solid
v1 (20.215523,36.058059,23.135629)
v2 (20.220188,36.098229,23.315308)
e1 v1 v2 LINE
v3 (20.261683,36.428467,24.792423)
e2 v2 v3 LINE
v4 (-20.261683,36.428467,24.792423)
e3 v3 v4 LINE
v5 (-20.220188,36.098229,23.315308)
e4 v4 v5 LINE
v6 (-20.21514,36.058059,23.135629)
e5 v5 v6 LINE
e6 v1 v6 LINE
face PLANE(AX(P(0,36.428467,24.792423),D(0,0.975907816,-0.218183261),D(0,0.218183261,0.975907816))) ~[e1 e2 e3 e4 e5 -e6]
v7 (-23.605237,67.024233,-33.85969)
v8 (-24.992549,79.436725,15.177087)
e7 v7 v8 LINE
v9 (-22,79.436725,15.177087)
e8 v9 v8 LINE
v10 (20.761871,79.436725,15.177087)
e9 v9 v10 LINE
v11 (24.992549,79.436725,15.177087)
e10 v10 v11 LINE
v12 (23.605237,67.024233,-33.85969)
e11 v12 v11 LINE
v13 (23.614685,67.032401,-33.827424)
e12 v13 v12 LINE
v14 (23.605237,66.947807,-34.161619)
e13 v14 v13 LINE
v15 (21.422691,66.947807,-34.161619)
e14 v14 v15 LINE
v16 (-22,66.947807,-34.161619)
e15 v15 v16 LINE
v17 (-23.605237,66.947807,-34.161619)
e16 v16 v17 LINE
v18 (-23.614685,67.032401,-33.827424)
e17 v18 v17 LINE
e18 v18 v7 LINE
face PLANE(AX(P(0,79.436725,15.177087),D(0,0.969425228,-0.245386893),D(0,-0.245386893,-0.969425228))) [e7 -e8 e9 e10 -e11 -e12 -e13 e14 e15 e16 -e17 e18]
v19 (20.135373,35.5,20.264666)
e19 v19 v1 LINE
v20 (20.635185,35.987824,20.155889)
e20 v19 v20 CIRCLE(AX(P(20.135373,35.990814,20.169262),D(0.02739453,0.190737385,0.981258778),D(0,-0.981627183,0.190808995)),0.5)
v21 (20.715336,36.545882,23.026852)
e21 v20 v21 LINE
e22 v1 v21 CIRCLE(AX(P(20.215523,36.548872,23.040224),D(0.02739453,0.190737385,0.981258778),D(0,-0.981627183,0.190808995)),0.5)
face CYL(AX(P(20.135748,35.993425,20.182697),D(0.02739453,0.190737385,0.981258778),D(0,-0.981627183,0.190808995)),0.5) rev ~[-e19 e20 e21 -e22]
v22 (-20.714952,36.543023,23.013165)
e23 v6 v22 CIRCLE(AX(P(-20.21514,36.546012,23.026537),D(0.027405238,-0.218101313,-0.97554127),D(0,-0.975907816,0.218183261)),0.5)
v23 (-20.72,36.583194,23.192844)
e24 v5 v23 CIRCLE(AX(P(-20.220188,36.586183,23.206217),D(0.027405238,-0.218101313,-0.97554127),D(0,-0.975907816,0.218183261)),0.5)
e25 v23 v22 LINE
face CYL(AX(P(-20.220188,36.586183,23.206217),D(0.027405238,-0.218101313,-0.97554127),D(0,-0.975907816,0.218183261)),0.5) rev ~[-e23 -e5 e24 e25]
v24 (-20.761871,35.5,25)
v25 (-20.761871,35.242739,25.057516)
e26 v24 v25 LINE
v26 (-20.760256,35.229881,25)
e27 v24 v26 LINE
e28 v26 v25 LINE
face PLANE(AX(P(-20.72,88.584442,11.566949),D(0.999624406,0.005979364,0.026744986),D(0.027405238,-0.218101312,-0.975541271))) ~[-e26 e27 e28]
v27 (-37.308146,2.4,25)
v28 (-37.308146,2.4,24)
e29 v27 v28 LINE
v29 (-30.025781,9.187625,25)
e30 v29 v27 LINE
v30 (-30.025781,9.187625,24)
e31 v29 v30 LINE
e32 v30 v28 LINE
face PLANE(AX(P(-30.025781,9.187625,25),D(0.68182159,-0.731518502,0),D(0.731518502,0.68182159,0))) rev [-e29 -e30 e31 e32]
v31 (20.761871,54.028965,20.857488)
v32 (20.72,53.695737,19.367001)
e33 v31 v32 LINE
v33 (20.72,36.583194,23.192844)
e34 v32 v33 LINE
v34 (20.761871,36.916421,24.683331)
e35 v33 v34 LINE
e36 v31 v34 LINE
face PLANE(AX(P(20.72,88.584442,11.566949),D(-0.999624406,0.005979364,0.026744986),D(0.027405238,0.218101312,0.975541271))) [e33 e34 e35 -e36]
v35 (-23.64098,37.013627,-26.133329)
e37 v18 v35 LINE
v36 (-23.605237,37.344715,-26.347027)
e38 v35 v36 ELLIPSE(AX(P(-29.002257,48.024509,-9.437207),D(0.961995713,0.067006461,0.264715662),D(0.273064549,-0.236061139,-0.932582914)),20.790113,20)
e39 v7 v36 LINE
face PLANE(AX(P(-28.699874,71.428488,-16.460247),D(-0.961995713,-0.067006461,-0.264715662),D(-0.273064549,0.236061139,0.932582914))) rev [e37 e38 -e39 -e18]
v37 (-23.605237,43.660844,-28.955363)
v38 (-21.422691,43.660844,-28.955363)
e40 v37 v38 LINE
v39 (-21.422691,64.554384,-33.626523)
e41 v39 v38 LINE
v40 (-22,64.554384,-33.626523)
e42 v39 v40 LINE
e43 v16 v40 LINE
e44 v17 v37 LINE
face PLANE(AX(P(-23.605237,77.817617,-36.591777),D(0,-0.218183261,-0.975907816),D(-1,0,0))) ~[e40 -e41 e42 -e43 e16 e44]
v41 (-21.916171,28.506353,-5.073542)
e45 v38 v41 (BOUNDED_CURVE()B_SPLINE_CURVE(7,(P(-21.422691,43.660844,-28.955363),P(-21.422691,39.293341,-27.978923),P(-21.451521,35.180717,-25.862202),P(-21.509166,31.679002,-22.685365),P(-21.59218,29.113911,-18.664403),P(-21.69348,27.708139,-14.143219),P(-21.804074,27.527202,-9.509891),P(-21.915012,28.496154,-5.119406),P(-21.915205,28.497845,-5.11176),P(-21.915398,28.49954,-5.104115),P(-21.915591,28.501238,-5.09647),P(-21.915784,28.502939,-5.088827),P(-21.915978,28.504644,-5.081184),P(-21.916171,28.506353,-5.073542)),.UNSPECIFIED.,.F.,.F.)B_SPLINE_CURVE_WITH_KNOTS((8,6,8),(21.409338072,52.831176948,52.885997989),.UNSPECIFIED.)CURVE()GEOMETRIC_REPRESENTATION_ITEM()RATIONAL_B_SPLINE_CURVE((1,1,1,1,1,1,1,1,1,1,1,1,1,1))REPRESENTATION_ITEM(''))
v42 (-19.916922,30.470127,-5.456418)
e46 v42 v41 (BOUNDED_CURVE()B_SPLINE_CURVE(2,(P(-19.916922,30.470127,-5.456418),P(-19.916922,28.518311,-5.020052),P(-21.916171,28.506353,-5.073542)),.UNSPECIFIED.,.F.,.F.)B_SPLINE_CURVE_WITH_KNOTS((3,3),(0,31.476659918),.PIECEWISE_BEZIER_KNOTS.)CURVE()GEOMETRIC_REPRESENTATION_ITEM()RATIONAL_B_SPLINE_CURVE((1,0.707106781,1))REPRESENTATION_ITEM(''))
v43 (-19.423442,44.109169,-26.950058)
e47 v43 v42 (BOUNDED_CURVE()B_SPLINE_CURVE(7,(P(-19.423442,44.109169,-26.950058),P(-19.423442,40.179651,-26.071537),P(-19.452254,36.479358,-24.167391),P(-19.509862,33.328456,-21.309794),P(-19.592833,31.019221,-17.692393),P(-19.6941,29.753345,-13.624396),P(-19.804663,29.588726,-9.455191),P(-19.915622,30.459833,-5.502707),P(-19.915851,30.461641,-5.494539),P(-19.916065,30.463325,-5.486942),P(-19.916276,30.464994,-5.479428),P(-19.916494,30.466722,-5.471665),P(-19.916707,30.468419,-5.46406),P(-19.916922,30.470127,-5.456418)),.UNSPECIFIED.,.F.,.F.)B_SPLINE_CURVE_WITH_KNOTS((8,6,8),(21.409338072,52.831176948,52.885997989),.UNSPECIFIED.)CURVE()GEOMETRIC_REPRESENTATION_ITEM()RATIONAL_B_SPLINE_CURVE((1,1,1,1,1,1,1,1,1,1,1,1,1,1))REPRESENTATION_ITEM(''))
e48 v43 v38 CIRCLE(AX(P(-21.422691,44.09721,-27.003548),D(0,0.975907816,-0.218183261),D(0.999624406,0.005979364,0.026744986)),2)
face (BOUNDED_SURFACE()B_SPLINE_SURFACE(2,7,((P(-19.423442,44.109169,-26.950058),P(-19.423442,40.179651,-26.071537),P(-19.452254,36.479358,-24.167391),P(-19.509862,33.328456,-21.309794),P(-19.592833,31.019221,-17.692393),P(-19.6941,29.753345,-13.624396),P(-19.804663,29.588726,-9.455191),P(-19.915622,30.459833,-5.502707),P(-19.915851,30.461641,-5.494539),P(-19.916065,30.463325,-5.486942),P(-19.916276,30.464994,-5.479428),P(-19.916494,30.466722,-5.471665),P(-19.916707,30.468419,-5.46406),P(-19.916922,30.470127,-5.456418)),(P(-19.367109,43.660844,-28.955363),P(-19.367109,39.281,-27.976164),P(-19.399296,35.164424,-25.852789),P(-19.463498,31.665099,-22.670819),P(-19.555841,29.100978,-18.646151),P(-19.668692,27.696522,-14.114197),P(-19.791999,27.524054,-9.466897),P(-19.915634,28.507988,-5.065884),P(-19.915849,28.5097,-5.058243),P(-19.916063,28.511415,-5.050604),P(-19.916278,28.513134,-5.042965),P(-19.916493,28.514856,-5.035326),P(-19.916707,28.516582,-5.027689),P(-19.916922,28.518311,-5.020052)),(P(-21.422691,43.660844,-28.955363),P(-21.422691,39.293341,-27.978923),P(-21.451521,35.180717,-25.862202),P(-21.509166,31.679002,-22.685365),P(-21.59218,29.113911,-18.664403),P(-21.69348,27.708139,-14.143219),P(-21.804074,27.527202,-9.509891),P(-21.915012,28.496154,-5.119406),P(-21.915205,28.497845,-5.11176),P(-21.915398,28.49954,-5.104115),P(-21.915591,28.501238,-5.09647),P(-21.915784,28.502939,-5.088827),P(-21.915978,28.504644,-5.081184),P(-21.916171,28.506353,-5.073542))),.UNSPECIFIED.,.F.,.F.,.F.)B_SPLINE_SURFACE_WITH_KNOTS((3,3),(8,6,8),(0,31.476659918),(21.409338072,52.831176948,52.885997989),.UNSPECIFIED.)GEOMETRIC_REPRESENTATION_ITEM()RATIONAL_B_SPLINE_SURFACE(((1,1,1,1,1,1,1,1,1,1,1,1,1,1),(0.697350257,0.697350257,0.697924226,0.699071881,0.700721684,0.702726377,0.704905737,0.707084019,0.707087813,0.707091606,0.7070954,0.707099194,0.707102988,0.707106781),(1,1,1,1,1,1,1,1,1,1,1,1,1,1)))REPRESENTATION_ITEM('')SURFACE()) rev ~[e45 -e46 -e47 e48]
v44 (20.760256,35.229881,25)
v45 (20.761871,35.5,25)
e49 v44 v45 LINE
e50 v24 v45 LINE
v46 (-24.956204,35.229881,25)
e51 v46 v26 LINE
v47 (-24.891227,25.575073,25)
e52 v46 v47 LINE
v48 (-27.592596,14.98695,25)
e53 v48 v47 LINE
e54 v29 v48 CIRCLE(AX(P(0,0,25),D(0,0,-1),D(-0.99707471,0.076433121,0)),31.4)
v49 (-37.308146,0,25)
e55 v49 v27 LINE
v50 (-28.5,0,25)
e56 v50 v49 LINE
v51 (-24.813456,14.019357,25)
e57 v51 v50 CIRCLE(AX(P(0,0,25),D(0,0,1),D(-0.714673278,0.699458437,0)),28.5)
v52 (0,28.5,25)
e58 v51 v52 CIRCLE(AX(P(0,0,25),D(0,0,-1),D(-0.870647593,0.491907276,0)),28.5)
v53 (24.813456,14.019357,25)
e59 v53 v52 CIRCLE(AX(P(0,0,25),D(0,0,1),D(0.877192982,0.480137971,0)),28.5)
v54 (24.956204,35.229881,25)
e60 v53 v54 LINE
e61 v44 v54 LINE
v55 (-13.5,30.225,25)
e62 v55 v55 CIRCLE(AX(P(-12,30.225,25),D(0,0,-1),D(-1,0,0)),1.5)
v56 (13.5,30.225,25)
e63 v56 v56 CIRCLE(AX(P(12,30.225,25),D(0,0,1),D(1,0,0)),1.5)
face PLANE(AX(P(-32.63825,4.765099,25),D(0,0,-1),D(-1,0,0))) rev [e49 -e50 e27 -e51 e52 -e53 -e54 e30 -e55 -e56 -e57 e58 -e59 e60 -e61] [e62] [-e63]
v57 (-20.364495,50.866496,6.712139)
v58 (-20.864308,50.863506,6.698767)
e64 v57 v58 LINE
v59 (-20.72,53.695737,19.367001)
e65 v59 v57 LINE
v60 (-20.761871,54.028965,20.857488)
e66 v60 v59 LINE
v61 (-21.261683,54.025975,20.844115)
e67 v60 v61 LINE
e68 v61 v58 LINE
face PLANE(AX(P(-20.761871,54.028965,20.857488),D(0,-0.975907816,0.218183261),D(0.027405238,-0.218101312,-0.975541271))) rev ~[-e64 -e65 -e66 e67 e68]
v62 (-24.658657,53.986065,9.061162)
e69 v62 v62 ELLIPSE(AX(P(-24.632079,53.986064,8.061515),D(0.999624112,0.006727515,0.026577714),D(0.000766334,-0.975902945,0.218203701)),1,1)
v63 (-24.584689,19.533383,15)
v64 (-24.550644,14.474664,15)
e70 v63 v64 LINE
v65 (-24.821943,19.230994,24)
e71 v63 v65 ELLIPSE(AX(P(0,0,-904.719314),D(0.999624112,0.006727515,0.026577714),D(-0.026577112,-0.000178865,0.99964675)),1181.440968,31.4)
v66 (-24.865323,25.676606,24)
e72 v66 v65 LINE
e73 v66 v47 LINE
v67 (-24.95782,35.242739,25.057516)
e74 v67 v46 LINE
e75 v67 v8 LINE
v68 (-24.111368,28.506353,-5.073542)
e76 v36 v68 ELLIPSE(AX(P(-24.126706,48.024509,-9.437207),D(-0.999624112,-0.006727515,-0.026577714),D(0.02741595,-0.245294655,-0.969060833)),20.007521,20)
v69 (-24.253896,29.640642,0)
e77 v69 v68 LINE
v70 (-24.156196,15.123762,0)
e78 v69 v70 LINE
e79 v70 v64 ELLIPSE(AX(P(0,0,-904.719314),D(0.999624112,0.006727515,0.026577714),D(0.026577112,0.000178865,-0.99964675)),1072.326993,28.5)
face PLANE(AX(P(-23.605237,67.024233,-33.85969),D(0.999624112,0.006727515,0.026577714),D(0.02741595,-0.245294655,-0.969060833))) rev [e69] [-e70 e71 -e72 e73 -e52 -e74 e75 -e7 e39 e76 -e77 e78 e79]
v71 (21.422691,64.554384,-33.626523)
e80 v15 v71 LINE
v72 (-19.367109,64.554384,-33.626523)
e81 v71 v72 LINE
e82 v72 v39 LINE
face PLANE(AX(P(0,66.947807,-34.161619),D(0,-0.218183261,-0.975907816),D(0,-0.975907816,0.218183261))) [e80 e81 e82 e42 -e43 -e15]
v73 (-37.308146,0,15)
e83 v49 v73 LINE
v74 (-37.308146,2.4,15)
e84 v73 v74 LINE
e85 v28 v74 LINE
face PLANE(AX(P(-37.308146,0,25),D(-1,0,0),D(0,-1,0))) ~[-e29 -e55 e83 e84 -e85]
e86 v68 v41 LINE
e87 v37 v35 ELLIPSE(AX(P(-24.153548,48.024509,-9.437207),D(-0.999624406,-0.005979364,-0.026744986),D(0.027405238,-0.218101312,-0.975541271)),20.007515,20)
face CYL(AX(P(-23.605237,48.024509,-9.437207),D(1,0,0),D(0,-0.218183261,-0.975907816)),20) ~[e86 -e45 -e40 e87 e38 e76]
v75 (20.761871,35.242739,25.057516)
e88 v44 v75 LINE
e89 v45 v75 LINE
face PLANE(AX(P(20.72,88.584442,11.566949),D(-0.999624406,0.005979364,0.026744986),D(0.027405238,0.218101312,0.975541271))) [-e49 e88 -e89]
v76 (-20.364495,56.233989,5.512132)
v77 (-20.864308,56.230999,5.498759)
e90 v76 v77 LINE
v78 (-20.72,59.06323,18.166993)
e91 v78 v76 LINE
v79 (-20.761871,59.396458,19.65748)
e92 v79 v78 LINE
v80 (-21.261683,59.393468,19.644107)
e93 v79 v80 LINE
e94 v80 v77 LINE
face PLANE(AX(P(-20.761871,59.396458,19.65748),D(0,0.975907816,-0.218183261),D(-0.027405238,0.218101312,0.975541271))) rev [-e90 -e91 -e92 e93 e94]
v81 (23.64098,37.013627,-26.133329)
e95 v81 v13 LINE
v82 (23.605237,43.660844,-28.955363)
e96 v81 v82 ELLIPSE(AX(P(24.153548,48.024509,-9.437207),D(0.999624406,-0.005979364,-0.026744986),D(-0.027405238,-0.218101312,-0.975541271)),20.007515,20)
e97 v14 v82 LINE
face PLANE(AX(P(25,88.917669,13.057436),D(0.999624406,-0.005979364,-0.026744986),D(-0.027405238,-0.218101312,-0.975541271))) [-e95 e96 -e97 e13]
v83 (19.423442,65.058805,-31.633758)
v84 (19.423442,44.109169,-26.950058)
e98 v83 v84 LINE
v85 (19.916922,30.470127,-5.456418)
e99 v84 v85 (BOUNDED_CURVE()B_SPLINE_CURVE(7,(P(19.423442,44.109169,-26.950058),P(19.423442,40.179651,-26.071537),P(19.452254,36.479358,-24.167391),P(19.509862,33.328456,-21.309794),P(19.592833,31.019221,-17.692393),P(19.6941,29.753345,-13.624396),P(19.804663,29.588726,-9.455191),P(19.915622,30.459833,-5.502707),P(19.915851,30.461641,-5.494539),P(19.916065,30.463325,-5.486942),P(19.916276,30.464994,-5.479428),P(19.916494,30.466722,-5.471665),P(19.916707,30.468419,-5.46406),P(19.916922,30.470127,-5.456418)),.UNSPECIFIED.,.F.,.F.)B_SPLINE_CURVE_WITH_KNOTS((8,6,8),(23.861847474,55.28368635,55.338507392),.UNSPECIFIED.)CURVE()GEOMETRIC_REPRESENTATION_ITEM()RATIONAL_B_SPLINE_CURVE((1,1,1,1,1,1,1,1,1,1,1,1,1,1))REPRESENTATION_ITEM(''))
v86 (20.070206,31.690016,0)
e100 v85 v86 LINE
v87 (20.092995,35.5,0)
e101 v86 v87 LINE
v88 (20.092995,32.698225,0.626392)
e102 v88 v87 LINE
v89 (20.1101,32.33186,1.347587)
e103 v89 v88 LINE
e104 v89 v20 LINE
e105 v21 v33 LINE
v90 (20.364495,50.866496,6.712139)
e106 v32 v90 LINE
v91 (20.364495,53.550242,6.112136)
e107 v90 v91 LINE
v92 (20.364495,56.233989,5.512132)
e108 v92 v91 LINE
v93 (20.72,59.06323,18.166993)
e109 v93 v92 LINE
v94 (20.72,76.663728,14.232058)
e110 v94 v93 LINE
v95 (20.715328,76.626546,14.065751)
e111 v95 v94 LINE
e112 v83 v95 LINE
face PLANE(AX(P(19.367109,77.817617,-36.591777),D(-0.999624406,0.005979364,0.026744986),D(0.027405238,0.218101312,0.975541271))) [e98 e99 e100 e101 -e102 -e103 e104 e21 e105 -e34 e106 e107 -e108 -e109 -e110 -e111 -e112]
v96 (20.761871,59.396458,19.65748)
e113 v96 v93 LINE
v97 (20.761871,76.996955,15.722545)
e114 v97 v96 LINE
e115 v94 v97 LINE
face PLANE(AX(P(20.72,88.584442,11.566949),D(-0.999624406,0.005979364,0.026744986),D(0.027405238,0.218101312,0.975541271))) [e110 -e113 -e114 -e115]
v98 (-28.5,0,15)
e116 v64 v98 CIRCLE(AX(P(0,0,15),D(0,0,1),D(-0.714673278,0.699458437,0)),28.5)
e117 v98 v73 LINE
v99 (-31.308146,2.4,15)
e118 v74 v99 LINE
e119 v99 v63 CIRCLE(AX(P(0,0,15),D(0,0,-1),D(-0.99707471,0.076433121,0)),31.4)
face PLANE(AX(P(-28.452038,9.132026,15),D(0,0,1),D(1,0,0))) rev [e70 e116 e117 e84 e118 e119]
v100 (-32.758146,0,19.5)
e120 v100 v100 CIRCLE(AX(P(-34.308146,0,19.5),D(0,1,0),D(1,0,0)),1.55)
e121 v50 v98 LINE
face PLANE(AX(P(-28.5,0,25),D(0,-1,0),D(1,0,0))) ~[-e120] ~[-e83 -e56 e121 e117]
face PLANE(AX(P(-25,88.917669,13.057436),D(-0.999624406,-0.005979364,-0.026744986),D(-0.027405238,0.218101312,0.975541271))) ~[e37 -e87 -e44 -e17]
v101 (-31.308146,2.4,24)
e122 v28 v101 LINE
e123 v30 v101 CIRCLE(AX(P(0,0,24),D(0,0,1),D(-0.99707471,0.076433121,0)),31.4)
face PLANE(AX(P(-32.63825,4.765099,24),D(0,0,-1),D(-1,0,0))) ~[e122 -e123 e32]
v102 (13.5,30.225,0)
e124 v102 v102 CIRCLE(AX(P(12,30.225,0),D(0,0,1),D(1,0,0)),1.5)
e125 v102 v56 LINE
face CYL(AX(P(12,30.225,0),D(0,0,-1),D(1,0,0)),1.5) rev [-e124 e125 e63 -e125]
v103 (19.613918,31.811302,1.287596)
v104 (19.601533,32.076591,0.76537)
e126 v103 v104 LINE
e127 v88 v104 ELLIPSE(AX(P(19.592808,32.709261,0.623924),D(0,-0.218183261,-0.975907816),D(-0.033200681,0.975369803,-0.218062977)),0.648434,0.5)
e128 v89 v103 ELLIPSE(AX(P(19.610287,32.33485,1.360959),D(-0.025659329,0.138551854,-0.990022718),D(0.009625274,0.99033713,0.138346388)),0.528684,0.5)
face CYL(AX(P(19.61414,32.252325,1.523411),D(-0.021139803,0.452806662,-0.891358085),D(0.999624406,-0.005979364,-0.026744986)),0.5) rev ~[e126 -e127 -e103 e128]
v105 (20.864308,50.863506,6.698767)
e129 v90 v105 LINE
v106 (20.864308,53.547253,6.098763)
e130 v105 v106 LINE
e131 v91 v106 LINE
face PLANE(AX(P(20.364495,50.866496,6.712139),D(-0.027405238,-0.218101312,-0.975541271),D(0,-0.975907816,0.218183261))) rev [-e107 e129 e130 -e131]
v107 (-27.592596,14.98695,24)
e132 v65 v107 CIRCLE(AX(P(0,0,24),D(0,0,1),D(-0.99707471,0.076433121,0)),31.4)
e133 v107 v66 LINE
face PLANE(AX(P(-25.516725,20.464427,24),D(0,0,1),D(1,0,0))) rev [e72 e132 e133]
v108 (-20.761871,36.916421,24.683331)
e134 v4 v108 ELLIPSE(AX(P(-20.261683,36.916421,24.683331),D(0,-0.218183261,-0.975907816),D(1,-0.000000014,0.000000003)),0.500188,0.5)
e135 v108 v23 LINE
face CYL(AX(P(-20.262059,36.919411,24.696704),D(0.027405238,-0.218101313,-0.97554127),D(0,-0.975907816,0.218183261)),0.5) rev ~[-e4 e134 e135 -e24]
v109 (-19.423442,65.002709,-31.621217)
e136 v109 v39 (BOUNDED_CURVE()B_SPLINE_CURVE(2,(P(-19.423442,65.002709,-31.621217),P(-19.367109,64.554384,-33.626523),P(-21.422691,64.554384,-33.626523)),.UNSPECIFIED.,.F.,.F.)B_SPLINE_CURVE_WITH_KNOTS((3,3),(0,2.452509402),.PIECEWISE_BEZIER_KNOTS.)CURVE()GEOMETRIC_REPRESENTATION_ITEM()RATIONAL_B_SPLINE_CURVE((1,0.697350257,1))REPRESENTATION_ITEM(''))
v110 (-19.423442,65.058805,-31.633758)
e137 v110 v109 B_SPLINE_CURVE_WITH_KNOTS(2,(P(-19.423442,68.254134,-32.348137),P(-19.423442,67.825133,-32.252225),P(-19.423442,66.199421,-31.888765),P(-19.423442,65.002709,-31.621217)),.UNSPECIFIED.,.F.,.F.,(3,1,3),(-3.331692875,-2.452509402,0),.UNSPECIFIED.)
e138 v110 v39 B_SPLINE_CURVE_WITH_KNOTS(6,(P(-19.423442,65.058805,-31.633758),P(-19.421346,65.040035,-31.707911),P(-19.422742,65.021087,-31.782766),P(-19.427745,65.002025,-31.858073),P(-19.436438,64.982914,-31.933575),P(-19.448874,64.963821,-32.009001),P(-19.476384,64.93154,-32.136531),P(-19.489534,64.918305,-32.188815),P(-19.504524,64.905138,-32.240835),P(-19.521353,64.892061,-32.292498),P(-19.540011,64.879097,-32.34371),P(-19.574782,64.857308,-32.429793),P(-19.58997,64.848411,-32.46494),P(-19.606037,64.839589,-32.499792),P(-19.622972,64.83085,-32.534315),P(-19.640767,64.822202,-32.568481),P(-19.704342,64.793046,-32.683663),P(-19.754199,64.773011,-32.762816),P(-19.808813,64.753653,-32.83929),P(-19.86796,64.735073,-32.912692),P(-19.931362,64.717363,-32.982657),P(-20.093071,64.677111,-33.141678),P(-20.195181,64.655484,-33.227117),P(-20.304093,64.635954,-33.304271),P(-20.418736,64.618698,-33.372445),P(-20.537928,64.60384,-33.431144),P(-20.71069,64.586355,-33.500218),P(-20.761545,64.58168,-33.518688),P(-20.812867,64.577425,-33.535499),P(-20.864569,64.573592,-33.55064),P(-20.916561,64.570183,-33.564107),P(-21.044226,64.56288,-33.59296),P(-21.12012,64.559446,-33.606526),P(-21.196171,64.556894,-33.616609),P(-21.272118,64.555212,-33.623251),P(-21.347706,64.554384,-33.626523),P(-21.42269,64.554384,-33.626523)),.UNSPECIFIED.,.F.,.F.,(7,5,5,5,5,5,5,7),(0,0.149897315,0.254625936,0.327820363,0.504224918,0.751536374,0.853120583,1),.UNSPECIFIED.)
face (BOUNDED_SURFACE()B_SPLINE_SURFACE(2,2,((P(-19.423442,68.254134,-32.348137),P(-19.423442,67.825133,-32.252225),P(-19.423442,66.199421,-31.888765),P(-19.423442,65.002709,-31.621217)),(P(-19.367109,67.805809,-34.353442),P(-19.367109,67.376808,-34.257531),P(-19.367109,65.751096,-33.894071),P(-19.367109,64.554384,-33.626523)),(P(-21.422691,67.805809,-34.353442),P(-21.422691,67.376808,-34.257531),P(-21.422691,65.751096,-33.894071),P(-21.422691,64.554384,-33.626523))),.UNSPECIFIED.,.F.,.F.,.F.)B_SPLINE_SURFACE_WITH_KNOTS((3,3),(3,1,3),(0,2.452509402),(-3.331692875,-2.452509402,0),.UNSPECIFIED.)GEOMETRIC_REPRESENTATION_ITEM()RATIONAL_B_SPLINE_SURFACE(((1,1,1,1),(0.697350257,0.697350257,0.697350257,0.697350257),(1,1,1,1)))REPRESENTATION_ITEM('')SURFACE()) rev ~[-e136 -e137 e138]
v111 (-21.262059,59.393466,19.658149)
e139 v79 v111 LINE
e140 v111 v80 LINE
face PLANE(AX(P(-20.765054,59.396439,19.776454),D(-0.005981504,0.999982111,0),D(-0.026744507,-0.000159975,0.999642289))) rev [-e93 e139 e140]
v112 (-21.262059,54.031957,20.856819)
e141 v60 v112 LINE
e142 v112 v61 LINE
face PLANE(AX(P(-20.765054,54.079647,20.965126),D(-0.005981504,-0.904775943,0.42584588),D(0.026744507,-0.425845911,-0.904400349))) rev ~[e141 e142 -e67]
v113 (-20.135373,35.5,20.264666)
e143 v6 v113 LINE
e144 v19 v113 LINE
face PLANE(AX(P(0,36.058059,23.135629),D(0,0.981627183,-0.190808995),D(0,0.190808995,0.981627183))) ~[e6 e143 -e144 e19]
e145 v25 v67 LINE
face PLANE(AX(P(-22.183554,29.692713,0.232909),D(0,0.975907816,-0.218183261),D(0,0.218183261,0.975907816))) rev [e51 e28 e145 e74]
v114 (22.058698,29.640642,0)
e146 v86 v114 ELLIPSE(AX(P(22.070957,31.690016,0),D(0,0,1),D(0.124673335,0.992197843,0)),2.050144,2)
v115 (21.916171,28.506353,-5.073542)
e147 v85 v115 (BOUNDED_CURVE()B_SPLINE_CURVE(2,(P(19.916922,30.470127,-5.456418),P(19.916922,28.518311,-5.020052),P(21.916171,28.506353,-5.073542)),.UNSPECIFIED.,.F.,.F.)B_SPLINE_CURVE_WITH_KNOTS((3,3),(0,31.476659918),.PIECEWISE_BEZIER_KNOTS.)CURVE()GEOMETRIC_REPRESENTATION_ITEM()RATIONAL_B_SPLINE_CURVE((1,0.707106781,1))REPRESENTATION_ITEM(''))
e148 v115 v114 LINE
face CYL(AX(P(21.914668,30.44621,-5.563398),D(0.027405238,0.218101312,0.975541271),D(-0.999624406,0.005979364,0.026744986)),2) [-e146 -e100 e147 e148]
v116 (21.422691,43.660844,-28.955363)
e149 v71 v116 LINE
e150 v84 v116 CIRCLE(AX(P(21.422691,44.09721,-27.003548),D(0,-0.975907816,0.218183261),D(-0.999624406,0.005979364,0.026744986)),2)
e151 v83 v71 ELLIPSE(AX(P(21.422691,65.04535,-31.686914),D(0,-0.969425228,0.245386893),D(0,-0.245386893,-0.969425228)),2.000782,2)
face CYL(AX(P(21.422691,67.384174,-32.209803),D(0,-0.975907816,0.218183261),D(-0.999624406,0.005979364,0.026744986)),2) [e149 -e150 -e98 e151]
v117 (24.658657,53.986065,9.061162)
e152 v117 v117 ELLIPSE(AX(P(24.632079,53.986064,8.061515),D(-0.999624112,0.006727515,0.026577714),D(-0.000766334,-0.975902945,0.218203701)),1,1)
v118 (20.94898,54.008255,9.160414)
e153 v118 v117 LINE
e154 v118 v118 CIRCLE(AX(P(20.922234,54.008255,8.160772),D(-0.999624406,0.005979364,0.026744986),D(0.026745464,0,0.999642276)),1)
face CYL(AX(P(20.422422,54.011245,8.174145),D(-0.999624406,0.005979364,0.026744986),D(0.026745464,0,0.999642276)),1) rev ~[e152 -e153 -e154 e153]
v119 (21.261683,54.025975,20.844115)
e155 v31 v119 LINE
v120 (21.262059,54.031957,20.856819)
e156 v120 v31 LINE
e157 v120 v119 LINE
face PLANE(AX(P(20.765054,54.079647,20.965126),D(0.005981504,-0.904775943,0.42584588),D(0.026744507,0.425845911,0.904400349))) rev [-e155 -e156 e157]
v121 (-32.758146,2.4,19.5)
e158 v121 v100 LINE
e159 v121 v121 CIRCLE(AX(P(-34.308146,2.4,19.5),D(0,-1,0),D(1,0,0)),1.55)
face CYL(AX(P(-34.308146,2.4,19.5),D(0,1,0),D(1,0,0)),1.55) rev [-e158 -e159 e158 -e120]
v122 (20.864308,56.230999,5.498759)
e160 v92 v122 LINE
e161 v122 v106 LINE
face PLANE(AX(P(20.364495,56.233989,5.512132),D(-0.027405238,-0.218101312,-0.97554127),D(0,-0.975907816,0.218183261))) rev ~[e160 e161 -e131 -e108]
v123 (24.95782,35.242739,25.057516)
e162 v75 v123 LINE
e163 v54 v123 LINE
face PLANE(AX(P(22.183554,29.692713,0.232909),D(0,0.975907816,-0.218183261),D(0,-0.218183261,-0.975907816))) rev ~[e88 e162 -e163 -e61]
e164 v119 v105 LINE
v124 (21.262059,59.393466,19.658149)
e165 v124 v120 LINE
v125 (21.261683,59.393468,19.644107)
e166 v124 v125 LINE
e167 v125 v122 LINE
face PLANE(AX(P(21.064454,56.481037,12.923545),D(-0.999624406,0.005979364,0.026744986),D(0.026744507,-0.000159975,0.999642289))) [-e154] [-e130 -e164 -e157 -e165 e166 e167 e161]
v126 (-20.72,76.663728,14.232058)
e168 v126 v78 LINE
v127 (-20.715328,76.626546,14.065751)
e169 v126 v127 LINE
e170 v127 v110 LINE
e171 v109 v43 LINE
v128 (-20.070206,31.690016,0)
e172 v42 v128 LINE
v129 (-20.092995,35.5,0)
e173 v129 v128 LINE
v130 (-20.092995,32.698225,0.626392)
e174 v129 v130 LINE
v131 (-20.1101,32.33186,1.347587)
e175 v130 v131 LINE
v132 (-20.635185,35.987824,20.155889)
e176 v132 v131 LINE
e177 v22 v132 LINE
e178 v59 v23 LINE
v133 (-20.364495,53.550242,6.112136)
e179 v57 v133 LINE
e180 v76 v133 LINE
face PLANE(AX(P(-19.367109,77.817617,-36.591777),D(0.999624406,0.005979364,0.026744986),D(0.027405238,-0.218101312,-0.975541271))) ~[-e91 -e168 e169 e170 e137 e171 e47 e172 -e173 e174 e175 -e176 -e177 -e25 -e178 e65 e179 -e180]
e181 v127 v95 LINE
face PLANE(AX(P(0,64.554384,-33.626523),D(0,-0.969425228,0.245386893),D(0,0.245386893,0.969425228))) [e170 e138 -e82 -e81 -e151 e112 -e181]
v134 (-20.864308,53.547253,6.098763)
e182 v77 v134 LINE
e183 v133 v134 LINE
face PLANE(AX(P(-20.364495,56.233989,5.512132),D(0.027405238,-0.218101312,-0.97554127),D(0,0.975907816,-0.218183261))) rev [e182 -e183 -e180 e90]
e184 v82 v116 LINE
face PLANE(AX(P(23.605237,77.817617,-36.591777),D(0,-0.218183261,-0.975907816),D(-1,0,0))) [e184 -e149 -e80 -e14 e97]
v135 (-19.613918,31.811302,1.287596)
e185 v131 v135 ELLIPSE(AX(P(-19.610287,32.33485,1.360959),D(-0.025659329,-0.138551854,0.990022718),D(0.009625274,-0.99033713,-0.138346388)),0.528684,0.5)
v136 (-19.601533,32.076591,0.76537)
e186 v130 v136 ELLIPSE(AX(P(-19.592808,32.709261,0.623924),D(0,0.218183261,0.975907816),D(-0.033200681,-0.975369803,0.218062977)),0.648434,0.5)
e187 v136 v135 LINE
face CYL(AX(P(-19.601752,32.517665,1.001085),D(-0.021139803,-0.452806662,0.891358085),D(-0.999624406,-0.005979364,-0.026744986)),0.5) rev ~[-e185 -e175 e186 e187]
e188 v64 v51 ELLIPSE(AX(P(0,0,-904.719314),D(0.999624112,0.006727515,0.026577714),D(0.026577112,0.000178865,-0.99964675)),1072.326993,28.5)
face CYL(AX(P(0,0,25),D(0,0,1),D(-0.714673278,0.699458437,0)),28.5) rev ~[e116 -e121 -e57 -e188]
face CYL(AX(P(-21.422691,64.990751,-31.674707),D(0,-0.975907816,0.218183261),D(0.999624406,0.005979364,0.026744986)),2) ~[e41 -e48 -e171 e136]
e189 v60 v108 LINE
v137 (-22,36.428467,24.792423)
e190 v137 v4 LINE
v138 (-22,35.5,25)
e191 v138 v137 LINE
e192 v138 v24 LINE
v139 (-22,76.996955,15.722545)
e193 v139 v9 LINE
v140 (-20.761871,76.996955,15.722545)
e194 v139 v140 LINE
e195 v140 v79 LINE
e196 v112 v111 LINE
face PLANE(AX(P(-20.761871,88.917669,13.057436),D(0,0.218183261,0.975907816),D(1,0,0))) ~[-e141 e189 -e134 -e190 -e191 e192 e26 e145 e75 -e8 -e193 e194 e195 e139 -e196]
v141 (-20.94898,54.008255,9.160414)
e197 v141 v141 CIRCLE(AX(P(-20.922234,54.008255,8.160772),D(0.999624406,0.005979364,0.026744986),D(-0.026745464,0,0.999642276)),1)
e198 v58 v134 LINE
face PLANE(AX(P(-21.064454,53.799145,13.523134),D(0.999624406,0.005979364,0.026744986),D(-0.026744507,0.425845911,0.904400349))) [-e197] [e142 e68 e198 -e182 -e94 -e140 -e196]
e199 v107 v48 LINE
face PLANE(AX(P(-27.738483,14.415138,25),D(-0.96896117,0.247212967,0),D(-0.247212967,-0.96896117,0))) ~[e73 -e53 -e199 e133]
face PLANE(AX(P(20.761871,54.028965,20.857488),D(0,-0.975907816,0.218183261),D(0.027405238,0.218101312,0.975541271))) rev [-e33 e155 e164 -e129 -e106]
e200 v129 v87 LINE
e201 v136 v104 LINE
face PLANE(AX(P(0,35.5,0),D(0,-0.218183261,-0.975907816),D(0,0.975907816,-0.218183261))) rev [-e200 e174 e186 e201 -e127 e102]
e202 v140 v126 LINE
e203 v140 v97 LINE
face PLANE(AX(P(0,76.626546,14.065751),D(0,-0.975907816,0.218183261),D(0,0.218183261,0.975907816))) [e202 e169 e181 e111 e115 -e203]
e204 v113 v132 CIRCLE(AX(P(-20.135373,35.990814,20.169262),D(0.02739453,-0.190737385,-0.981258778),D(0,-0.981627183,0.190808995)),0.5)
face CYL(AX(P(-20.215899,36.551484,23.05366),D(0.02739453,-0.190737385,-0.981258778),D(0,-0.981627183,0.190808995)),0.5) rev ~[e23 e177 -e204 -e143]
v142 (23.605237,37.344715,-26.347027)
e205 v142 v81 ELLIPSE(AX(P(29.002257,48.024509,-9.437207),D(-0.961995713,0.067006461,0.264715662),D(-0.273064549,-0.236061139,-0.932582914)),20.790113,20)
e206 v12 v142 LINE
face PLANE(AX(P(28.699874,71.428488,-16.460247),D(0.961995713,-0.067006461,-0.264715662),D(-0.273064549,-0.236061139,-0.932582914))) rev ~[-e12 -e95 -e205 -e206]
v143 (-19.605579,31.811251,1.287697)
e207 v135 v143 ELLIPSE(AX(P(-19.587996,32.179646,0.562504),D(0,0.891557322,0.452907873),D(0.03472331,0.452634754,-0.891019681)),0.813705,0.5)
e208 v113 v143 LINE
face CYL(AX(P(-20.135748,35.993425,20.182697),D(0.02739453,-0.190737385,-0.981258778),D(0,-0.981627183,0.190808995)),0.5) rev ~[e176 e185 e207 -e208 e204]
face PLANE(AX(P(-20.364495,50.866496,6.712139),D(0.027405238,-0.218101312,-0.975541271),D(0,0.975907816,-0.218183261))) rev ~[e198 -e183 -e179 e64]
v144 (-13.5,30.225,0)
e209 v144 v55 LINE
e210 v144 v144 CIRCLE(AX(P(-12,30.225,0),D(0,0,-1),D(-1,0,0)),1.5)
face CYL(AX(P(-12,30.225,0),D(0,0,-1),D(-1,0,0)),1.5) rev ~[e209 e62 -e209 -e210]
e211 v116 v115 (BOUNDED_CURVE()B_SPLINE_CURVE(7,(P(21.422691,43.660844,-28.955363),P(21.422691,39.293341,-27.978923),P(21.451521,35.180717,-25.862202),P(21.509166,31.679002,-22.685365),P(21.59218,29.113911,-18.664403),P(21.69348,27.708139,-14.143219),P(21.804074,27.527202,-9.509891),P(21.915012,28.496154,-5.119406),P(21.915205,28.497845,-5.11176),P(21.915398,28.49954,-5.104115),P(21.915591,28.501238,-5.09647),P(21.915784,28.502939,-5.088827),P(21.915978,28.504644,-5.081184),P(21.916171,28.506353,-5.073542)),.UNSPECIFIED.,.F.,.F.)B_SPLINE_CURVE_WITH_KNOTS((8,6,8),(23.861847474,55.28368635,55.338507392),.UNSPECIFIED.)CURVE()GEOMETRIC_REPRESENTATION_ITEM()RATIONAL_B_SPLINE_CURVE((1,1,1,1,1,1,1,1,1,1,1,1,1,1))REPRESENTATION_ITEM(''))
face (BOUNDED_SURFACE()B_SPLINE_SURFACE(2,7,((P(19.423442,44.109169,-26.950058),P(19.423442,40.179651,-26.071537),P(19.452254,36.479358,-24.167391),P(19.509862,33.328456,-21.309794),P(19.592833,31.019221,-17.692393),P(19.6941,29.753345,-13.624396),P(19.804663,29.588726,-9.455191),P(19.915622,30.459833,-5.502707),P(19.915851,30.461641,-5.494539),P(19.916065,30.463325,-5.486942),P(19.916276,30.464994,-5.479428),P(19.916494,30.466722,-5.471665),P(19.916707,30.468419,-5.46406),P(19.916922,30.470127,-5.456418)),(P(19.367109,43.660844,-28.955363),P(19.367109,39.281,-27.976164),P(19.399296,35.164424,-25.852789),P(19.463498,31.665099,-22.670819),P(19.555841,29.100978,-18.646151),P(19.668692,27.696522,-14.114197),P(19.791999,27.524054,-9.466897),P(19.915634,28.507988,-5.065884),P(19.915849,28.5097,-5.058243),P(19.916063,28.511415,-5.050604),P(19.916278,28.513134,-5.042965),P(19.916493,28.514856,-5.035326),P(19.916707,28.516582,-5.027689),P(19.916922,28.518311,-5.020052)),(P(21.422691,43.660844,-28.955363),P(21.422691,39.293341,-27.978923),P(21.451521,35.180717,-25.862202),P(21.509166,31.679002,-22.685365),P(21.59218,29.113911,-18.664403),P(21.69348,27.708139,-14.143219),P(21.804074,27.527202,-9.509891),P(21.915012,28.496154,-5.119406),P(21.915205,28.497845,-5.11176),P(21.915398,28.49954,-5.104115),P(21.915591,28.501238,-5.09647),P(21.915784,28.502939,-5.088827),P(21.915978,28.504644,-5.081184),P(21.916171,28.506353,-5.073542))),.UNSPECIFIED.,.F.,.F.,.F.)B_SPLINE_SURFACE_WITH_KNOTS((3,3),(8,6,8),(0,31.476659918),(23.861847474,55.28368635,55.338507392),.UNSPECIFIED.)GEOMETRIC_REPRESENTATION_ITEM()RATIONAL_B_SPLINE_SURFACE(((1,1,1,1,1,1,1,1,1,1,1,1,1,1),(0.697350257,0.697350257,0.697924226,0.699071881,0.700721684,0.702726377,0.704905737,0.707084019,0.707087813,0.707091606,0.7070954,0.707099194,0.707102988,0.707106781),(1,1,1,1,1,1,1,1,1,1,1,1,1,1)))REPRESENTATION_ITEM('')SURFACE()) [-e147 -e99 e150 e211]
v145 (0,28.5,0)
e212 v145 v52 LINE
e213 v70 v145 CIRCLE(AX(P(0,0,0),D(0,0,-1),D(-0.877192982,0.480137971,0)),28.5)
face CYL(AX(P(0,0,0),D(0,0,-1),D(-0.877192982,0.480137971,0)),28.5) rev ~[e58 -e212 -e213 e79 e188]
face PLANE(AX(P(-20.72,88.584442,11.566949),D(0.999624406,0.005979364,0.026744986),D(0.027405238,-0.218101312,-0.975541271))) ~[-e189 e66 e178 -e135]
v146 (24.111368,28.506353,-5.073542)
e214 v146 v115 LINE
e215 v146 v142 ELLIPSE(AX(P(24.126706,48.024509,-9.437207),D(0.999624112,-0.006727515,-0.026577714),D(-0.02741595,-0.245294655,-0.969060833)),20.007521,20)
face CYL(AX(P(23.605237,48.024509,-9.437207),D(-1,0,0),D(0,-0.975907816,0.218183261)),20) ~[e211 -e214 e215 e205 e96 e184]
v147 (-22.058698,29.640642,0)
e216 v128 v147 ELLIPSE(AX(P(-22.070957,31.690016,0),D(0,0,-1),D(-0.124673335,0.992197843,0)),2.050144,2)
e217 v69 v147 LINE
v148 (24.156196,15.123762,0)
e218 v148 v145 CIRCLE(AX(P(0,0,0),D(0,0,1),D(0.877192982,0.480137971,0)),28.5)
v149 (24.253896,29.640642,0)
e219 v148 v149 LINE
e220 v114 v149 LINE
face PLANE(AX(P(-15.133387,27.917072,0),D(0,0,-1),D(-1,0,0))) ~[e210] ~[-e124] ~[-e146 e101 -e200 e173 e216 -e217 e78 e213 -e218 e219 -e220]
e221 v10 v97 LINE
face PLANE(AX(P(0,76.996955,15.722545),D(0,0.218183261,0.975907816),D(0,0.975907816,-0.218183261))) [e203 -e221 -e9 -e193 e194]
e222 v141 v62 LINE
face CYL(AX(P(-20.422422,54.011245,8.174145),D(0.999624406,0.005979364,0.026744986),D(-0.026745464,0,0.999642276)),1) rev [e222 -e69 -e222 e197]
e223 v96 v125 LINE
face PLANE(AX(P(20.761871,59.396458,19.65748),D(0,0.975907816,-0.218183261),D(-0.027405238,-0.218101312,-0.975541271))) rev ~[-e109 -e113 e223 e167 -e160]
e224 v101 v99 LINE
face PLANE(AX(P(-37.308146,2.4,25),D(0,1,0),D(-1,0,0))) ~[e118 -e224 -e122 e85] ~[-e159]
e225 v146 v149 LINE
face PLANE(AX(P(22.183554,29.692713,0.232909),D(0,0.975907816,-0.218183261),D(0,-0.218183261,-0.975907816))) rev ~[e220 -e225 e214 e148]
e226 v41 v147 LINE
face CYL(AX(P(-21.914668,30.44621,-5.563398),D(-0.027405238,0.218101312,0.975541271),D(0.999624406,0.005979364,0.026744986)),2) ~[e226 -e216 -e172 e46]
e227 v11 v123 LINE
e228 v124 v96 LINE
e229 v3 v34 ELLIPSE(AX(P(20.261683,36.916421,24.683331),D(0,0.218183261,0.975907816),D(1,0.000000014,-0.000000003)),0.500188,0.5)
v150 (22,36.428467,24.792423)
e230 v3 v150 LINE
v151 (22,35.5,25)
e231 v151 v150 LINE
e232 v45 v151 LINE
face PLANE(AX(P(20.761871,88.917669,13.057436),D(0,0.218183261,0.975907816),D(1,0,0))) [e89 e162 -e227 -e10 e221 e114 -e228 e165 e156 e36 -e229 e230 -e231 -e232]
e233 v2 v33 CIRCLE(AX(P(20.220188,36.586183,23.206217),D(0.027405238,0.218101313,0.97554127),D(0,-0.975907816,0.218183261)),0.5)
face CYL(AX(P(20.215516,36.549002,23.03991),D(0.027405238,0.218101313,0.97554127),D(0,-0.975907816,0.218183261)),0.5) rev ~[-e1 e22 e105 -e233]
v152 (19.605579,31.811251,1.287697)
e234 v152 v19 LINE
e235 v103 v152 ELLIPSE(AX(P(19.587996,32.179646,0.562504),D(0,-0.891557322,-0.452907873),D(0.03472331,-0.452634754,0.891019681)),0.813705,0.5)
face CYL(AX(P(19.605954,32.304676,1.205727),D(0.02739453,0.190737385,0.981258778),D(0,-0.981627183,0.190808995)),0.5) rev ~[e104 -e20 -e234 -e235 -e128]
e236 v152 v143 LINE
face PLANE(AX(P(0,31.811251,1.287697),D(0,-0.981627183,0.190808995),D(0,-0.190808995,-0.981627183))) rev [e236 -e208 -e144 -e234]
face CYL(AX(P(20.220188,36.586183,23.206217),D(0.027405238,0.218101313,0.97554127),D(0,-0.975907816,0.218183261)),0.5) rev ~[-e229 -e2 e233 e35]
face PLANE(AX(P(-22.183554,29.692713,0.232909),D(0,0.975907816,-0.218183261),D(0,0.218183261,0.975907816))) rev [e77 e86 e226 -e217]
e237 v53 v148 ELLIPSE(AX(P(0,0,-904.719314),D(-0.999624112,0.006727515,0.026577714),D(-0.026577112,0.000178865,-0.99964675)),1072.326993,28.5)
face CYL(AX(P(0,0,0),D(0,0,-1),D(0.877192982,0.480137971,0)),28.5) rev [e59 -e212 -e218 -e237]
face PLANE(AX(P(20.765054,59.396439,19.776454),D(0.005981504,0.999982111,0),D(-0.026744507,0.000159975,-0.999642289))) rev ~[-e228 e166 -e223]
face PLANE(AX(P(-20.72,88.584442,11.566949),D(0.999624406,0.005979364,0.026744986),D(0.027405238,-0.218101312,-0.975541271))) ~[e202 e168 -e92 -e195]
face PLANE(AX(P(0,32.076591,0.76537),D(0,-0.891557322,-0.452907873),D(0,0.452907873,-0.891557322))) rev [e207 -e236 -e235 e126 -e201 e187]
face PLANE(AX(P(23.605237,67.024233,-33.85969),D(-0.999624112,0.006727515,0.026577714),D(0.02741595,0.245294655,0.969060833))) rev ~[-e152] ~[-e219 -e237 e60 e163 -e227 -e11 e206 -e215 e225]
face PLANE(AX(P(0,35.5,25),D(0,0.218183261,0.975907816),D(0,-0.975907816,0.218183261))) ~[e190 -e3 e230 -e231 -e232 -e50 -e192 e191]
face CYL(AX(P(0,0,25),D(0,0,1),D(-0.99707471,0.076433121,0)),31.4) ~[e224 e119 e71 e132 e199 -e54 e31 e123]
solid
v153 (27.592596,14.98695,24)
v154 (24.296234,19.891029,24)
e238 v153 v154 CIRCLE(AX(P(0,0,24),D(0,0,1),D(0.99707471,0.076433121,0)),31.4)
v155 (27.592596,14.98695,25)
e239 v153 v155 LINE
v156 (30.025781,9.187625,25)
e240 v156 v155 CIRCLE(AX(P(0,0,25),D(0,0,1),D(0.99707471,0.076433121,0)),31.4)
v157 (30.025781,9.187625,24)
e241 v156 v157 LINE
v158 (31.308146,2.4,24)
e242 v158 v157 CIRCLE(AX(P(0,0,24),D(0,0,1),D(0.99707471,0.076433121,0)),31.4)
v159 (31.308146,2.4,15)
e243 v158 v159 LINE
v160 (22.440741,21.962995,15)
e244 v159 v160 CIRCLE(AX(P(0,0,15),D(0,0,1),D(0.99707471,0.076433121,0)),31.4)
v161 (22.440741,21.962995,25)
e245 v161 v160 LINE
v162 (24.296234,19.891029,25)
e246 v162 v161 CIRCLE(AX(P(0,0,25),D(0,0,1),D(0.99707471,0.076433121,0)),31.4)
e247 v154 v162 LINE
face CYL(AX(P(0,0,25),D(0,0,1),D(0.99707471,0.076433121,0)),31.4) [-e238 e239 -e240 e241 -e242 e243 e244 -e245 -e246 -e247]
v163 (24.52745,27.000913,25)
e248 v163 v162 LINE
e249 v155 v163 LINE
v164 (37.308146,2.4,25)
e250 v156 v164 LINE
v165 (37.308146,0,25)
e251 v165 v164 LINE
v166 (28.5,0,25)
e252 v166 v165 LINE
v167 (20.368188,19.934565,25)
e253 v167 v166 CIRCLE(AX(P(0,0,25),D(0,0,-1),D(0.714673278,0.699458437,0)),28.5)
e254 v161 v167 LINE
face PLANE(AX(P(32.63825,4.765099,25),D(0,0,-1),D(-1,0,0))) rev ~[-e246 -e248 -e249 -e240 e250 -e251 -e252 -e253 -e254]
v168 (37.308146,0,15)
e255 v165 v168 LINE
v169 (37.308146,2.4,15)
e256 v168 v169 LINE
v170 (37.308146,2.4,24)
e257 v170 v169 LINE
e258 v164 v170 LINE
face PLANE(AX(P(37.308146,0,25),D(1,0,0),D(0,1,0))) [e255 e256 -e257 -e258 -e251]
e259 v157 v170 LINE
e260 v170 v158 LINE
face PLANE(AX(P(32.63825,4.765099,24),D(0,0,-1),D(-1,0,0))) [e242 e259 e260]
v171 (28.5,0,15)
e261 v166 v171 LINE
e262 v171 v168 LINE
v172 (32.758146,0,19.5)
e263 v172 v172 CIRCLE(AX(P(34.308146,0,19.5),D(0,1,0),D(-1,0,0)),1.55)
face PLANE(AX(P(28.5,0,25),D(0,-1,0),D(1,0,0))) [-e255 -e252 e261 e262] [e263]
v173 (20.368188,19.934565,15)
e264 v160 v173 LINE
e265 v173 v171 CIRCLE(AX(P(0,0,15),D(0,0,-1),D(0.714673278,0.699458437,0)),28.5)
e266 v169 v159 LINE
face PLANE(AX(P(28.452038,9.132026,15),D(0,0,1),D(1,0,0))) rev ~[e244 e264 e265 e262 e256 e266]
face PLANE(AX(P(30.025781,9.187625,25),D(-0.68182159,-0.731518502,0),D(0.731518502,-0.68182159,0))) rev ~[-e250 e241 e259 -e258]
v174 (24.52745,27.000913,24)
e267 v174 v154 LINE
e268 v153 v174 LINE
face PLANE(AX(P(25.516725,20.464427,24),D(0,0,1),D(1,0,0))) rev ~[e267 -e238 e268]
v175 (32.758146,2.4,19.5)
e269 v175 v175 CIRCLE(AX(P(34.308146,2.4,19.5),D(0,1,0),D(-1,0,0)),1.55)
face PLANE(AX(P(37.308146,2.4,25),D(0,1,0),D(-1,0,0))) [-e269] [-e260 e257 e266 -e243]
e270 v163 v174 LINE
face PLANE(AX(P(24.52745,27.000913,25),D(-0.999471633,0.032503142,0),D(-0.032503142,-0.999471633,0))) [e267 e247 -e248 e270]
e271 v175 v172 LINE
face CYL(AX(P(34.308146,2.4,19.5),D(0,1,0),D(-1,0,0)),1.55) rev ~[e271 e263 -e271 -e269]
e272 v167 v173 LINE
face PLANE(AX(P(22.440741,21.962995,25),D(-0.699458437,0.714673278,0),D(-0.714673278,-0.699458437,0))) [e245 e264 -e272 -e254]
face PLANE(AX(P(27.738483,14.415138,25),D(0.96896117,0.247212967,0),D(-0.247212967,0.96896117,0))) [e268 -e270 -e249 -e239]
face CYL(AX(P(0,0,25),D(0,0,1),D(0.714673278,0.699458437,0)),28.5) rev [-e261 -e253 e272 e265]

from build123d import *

# Parameters (mm, degrees)
BASE_R                 = 1.5
BOSS_EXTRUDE1_DEPTH    = 25
BOSS_EXTRUDE2_DEPTH    = 22
CUT_EXTRUDE1_DEPTH     = 22.5
BOSS_EXTRUDE3_START    = -33
BOSS_EXTRUDE3_DEPTH    = 55
CUT_EXTRUDE11_DEPTH    = 0.5
SKETCH23_R             = 1
CUT_EXTRUDE12_DEPTH    = 99.094279887
CUT_EXTRUDE15_DEPTH    = 76.944355981
CUT_EXTRUDE16_DEPTH    = 100.349434145
BOSS_EXTRUDE5_DEPTH    = 10
BOSS_EXTRUDE6_DEPTH    = 1
SKETCH34_R             = 1.55
CUT_EXTRUDE18_DEPTH    = 93.160571402
FILLET13_R             = 20
FILLET14_R             = 2
FILLET17_R             = 0.5
MIRROR42_COPY_1_DEPTH  = 0.5
FILLET13_OF_MIRROR42_R = 20
FILLET14_OF_MIRROR42_R = 2
FILLET17_OF_MIRROR42_R = 0.5


with BuildPart() as part:
    # base → Boss-Extrude1 (new body)
    with BuildSketch(Plane.XY):
        with BuildLine():
            Line((0, 35.5), (25, 35.5))
            Line((25, 35.5), (25, 13.683932183))
            ThreePointArc((25, 13.683932183), (14.530277574, 24.517769752), (0, 28.5))
            Line((0, 28.5), (0, 35.5))
        make_face()
        with Locations((12, 30.225)):
            Circle(BASE_R, mode=Mode.SUBTRACT)
    boss_extrude1 = extrude(amount=BOSS_EXTRUDE1_DEPTH)

    # Sketch1 → Boss-Extrude2 (add)
    with BuildSketch(Plane.ZY):
        Polygon((25, 35.5), (24.792423, 36.428467271), (23.135628798, 36.058058554), (20.264666421, 35.5), align=None)
        Polygon((15.177086702, 79.436724709), (-34.161619053, 66.947807182), (-33.626522555, 64.554384088), (14.065750651, 76.626546453), (15.722544854, 76.99695517), align=None)
    boss_extrude2 = extrude(amount=-BOSS_EXTRUDE2_DEPTH)


with BuildPart() as boss_extrude2_piece_1:
    # of the separate pieces the step leaves, piece 1, a body of its own (boss_extrude2_pieces)
    add(part.part.solids().sort_by_distance((0, 28.5, 0))[0])

    # Sketch2 → Cut-Extrude1 (cut)
    with BuildSketch(Plane.ZY):
        Polygon((0, 35.5), (0.765370017, 32.0765908), (1.287696682, 31.811250756), (20.264666421, 35.5), align=None)
    cut_extrude1 = extrude(amount=-CUT_EXTRUDE1_DEPTH, mode=Mode.SUBTRACT)

    # Sketch6 → Boss-Extrude3 (add)
    with BuildSketch(Plane(origin=(0, 49.699602786, -11.111317294), x_dir=(0, 0.21818326067427152, 0.9759078157088111), z_dir=(0, -0.9759078157088111, 0.21818326067427152)).offset(BOSS_EXTRUDE3_START)):
        Polygon((-18.731700165, -19.367108639), (30.615918322, -20.72), (32.143201147, -20.761871276), (32.143201147, -25), (-18.731700165, -23.605237363), align=None)
    boss_extrude3 = extrude(amount=BOSS_EXTRUDE3_DEPTH)

    # Sketch22 → Cut-Extrude11 (cut)
    with BuildSketch(Plane(origin=(19.865716918, -0.118828987, -0.531507949), x_dir=(0.02674450738619923, -0.00015997523468622664, 0.999642288887677), z_dir=(-0.9996244059329674, 0.00597936415982469, 0.02674498583671672))):
        Polygon((20.196212319, 59.519582361), (6.045802137, 56.354793001), (6.646020809, 53.671094519), (20.79643099, 56.835883879), (20.909777655, 56.861234262), (20.315228686, 59.519582361), align=None)
    cut_extrude11 = extrude(amount=-CUT_EXTRUDE11_DEPTH, mode=Mode.SUBTRACT)

    # Mirror2: Cut-Extrude11 across plane
    add(cut_extrude11.mirror(Plane(origin=(20.864307529, 53.547252509, 6.098763011), x_dir=(0, 0.2181832606742717, 0.975907815708811), z_dir=(0, -0.9759078157088111, 0.2181832606742717))), mode=Mode.SUBTRACT)

    # Sketch23 → Cut-Extrude12 (cut, through all)
    with BuildSketch(Plane(origin=(19.865716918, -0.118828987, -0.531507949), x_dir=(0.026744507386199233, -0.00015997523468622667, 0.999642288887677), z_dir=(-0.9996244059329675, 0.005979364159824691, 0.026744985836716723))):
        with Locations(Location((8.708767837, 54.132435198, 0), (0, 0, 0.00916607))):
            Circle(SKETCH23_R)
    cut_extrude12 = extrude(amount=-CUT_EXTRUDE12_DEPTH, mode=Mode.SUBTRACT)

    # Sketch28 → Cut-Extrude15 (cut, through all)
    with BuildSketch(Plane(origin=(0, 71.043074178, -17.982861138), x_dir=(1, 0, 0), z_dir=(0, 0.9694252279734551, -0.24538689322906931))):
        Polygon((25, -34.477438769), (28.699873794, -1.570635788), (23.605237363, 16.37756889), align=None)
    cut_extrude15 = extrude(amount=-CUT_EXTRUDE15_DEPTH, mode=Mode.SUBTRACT)

    # Sketch29 → Cut-Extrude16 (cut, through all)
    with BuildSketch(Plane.ZY):
        Polygon((-34.161619053, 66.947807182), (-36.591777489, 77.817617284), (13.057436325, 88.917669139), (15.177086702, 79.436724709), align=None)
    cut_extrude16 = extrude(amount=-CUT_EXTRUDE16_DEPTH, mode=Mode.SUBTRACT)

    # Fillet13
    fillet13_edges = [boss_extrude2_piece_1.edges().sort_by_distance(p)[0] for p in [
        (21.486173001, 24.14268742, -24.591698152),
    ]]
    fillet(fillet13_edges, radius=FILLET13_R)

    # Fillet14
    fillet14_edges = [boss_extrude2_piece_1.edges().sort_by_distance(p)[0] for p in [
        (19.367108639, 55.304325458, -31.558491209),
        (19.527741539, 31.136504682, -20.151464465),
        (19.986683172, 29.073497339, -2.536770919),
    ]]
    fillet(fillet14_edges, radius=FILLET14_R)

    # Fillet17
    fillet17_edges = [boss_extrude2_piece_1.edges().sort_by_distance(p)[0] for p in [
        (20.738599662, 36.243262913, 23.964025899),
        (20.41035558, 33.934654655, 12.21166274),
        (20.099189258, 31.943920778, 1.02653335),
    ]]
    fillet(fillet17_edges, radius=FILLET17_R)


with BuildPart() as boss_extrude2_piece_2:
    # of the separate pieces the step leaves, piece 2, a body of its own (boss_extrude2_pieces)
    add(part.part.solids().sort_by_distance((0, 79.436724709, 15.177086702))[0])


with BuildPart() as body_3:
    # Sketch33 → Boss-Extrude5 (new body)
    with BuildSketch(Plane.XY.offset(25)):
        with BuildLine():
            Line((28.5, 0), (31.5, 0))
            Line((31.5, 0), (37.308145905, 0))
            Line((37.308145905, 0), (37.308145905, 2.4))
            Line((37.308145905, 2.4), (31.308145905, 2.4))
            ThreePointArc((31.308145905, 2.4), (28.599185333, 12.96327884), (22.440740932, 21.962994933))
            Line((22.440740932, 21.962994933), (20.368188425, 19.934565465))
            ThreePointArc((20.368188425, 19.934565465), (26.388855319, 10.764679045), (28.5, 0))
        make_face()
    boss_extrude5 = extrude(amount=-BOSS_EXTRUDE5_DEPTH)

    # Sketch35 → Boss-Extrude6 (add)
    with BuildSketch(Plane.XY.offset(25)):
        Polygon((37.308145905, 2.4), (30.025781314, 2.4), (30.025781314, 9.187625182), align=None)
        Polygon((27.738483134, 14.415137804), (24.527449643, 27.000912751), (24.232182196, 17.921438743), align=None)
    boss_extrude6 = extrude(amount=-BOSS_EXTRUDE6_DEPTH)

    # Sketch34 → Cut-Extrude18 (cut, through all)
    with BuildSketch(Plane(origin=(0, 2.4, 0), x_dir=(1, 0, 0), z_dir=(0, 1, 0))):
        with Locations(Location((34.308145905, -19.5, 0), (0, 0, 180))):
            Circle(SKETCH34_R)
    cut_extrude18 = extrude(amount=-CUT_EXTRUDE18_DEPTH, mode=Mode.SUBTRACT)


with BuildPart() as boss_extrude2_piece_1_1:
    add(boss_extrude2_piece_1.part)

    add(boss_extrude2_piece_2.part)  # Mirror42 merges Boss-Extrude2 piece 2
    # Mirror42: Boss-Extrude1, Boss-Extrude2, Cut-Extrude1, Boss-Extrude3, Cut-Extrude11, Cut-Extrude12, Cut-Extrude15, Cut-Extrude16, Boss-Extrude5, Boss-Extrude6, Cut-Extrude18 across plane
    add(boss_extrude1.mirror(Plane(origin=(0, 35.5, 25), x_dir=(0, 0, 1), z_dir=(1, 0, 0))))
    add(boss_extrude2.mirror(Plane(origin=(0, 35.5, 25), x_dir=(0, 0, 1), z_dir=(1, 0, 0))))
    add(cut_extrude1.mirror(Plane(origin=(0, 35.5, 25), x_dir=(0, 0, 1), z_dir=(1, 0, 0))), mode=Mode.SUBTRACT)
    add(boss_extrude3.mirror(Plane(origin=(0, 35.5, 25), x_dir=(0, 0, 1), z_dir=(1, 0, 0))))
    add(cut_extrude11.mirror(Plane(origin=(0, 35.5, 25), x_dir=(0, 0, 1), z_dir=(1, 0, 0))), mode=Mode.SUBTRACT)
    add(cut_extrude12.mirror(Plane(origin=(0, 35.5, 25), x_dir=(0, 0, 1), z_dir=(1, 0, 0))), mode=Mode.SUBTRACT)
    add(cut_extrude15.mirror(Plane(origin=(0, 35.5, 25), x_dir=(0, 0, 1), z_dir=(1, 0, 0))), mode=Mode.SUBTRACT)
    add(cut_extrude16.mirror(Plane(origin=(0, 35.5, 25), x_dir=(0, 0, 1), z_dir=(1, 0, 0))), mode=Mode.SUBTRACT)
    add(boss_extrude5.mirror(Plane(origin=(0, 35.5, 25), x_dir=(0, 0, 1), z_dir=(1, 0, 0))))
    add(boss_extrude6.mirror(Plane(origin=(0, 35.5, 25), x_dir=(0, 0, 1), z_dir=(1, 0, 0))))
    add(cut_extrude18.mirror(Plane(origin=(0, 35.5, 25), x_dir=(0, 0, 1), z_dir=(1, 0, 0))), mode=Mode.SUBTRACT)

    # Mirror42 copy 1 sketch → Mirror42 copy 1 (cut)
    with BuildSketch(Plane(origin=(-19.865716918, 99.280376584, -22.754142537), x_dir=(-0.026744507386199226, 0.4258459105022663, 0.9044003493106167), z_dir=(0.9996244059329674, 0.00597936415982469, 0.026744985836716723))):
        Polygon((20.196212319, 59.519582361), (6.045802137, 56.354793001), (6.646020809, 53.671094519), (20.79643099, 56.835883879), (20.909777655, 56.861234262), (20.315228686, 59.519582361), align=None)
    extrude(amount=-MIRROR42_COPY_1_DEPTH, mode=Mode.SUBTRACT)

    # Fillet13 of Mirror42
    fillet13_of_mirror42_edges = [boss_extrude2_piece_1_1.edges().sort_by_distance(p)[0] for p in [
        (-21.486173001, 24.14268742, -24.591698152),
    ]]
    fillet(fillet13_of_mirror42_edges, radius=FILLET13_OF_MIRROR42_R)

    # Fillet14 of Mirror42
    fillet14_of_mirror42_edges = [boss_extrude2_piece_1_1.edges().sort_by_distance(p)[0] for p in [
        (-19.367108639, 55.304325458, -31.558491209),
        (-19.527741539, 31.136504682, -20.151464465),
        (-19.986683172, 29.073497339, -2.536770919),
    ]]
    fillet(fillet14_of_mirror42_edges, radius=FILLET14_OF_MIRROR42_R)

    # Fillet17 of Mirror42
    fillet17_of_mirror42_edges = [boss_extrude2_piece_1_1.edges().sort_by_distance(p)[0] for p in [
        (-20.738599662, 36.243262913, 23.964025899),
        (-20.41035558, 33.934654655, 12.21166274),
        (-20.099189258, 31.943920778, 1.02653335),
    ]]
    fillet(fillet17_of_mirror42_edges, radius=FILLET17_OF_MIRROR42_R)


solid = Compound([body_3.part, boss_extrude2_piece_1_1.part])
